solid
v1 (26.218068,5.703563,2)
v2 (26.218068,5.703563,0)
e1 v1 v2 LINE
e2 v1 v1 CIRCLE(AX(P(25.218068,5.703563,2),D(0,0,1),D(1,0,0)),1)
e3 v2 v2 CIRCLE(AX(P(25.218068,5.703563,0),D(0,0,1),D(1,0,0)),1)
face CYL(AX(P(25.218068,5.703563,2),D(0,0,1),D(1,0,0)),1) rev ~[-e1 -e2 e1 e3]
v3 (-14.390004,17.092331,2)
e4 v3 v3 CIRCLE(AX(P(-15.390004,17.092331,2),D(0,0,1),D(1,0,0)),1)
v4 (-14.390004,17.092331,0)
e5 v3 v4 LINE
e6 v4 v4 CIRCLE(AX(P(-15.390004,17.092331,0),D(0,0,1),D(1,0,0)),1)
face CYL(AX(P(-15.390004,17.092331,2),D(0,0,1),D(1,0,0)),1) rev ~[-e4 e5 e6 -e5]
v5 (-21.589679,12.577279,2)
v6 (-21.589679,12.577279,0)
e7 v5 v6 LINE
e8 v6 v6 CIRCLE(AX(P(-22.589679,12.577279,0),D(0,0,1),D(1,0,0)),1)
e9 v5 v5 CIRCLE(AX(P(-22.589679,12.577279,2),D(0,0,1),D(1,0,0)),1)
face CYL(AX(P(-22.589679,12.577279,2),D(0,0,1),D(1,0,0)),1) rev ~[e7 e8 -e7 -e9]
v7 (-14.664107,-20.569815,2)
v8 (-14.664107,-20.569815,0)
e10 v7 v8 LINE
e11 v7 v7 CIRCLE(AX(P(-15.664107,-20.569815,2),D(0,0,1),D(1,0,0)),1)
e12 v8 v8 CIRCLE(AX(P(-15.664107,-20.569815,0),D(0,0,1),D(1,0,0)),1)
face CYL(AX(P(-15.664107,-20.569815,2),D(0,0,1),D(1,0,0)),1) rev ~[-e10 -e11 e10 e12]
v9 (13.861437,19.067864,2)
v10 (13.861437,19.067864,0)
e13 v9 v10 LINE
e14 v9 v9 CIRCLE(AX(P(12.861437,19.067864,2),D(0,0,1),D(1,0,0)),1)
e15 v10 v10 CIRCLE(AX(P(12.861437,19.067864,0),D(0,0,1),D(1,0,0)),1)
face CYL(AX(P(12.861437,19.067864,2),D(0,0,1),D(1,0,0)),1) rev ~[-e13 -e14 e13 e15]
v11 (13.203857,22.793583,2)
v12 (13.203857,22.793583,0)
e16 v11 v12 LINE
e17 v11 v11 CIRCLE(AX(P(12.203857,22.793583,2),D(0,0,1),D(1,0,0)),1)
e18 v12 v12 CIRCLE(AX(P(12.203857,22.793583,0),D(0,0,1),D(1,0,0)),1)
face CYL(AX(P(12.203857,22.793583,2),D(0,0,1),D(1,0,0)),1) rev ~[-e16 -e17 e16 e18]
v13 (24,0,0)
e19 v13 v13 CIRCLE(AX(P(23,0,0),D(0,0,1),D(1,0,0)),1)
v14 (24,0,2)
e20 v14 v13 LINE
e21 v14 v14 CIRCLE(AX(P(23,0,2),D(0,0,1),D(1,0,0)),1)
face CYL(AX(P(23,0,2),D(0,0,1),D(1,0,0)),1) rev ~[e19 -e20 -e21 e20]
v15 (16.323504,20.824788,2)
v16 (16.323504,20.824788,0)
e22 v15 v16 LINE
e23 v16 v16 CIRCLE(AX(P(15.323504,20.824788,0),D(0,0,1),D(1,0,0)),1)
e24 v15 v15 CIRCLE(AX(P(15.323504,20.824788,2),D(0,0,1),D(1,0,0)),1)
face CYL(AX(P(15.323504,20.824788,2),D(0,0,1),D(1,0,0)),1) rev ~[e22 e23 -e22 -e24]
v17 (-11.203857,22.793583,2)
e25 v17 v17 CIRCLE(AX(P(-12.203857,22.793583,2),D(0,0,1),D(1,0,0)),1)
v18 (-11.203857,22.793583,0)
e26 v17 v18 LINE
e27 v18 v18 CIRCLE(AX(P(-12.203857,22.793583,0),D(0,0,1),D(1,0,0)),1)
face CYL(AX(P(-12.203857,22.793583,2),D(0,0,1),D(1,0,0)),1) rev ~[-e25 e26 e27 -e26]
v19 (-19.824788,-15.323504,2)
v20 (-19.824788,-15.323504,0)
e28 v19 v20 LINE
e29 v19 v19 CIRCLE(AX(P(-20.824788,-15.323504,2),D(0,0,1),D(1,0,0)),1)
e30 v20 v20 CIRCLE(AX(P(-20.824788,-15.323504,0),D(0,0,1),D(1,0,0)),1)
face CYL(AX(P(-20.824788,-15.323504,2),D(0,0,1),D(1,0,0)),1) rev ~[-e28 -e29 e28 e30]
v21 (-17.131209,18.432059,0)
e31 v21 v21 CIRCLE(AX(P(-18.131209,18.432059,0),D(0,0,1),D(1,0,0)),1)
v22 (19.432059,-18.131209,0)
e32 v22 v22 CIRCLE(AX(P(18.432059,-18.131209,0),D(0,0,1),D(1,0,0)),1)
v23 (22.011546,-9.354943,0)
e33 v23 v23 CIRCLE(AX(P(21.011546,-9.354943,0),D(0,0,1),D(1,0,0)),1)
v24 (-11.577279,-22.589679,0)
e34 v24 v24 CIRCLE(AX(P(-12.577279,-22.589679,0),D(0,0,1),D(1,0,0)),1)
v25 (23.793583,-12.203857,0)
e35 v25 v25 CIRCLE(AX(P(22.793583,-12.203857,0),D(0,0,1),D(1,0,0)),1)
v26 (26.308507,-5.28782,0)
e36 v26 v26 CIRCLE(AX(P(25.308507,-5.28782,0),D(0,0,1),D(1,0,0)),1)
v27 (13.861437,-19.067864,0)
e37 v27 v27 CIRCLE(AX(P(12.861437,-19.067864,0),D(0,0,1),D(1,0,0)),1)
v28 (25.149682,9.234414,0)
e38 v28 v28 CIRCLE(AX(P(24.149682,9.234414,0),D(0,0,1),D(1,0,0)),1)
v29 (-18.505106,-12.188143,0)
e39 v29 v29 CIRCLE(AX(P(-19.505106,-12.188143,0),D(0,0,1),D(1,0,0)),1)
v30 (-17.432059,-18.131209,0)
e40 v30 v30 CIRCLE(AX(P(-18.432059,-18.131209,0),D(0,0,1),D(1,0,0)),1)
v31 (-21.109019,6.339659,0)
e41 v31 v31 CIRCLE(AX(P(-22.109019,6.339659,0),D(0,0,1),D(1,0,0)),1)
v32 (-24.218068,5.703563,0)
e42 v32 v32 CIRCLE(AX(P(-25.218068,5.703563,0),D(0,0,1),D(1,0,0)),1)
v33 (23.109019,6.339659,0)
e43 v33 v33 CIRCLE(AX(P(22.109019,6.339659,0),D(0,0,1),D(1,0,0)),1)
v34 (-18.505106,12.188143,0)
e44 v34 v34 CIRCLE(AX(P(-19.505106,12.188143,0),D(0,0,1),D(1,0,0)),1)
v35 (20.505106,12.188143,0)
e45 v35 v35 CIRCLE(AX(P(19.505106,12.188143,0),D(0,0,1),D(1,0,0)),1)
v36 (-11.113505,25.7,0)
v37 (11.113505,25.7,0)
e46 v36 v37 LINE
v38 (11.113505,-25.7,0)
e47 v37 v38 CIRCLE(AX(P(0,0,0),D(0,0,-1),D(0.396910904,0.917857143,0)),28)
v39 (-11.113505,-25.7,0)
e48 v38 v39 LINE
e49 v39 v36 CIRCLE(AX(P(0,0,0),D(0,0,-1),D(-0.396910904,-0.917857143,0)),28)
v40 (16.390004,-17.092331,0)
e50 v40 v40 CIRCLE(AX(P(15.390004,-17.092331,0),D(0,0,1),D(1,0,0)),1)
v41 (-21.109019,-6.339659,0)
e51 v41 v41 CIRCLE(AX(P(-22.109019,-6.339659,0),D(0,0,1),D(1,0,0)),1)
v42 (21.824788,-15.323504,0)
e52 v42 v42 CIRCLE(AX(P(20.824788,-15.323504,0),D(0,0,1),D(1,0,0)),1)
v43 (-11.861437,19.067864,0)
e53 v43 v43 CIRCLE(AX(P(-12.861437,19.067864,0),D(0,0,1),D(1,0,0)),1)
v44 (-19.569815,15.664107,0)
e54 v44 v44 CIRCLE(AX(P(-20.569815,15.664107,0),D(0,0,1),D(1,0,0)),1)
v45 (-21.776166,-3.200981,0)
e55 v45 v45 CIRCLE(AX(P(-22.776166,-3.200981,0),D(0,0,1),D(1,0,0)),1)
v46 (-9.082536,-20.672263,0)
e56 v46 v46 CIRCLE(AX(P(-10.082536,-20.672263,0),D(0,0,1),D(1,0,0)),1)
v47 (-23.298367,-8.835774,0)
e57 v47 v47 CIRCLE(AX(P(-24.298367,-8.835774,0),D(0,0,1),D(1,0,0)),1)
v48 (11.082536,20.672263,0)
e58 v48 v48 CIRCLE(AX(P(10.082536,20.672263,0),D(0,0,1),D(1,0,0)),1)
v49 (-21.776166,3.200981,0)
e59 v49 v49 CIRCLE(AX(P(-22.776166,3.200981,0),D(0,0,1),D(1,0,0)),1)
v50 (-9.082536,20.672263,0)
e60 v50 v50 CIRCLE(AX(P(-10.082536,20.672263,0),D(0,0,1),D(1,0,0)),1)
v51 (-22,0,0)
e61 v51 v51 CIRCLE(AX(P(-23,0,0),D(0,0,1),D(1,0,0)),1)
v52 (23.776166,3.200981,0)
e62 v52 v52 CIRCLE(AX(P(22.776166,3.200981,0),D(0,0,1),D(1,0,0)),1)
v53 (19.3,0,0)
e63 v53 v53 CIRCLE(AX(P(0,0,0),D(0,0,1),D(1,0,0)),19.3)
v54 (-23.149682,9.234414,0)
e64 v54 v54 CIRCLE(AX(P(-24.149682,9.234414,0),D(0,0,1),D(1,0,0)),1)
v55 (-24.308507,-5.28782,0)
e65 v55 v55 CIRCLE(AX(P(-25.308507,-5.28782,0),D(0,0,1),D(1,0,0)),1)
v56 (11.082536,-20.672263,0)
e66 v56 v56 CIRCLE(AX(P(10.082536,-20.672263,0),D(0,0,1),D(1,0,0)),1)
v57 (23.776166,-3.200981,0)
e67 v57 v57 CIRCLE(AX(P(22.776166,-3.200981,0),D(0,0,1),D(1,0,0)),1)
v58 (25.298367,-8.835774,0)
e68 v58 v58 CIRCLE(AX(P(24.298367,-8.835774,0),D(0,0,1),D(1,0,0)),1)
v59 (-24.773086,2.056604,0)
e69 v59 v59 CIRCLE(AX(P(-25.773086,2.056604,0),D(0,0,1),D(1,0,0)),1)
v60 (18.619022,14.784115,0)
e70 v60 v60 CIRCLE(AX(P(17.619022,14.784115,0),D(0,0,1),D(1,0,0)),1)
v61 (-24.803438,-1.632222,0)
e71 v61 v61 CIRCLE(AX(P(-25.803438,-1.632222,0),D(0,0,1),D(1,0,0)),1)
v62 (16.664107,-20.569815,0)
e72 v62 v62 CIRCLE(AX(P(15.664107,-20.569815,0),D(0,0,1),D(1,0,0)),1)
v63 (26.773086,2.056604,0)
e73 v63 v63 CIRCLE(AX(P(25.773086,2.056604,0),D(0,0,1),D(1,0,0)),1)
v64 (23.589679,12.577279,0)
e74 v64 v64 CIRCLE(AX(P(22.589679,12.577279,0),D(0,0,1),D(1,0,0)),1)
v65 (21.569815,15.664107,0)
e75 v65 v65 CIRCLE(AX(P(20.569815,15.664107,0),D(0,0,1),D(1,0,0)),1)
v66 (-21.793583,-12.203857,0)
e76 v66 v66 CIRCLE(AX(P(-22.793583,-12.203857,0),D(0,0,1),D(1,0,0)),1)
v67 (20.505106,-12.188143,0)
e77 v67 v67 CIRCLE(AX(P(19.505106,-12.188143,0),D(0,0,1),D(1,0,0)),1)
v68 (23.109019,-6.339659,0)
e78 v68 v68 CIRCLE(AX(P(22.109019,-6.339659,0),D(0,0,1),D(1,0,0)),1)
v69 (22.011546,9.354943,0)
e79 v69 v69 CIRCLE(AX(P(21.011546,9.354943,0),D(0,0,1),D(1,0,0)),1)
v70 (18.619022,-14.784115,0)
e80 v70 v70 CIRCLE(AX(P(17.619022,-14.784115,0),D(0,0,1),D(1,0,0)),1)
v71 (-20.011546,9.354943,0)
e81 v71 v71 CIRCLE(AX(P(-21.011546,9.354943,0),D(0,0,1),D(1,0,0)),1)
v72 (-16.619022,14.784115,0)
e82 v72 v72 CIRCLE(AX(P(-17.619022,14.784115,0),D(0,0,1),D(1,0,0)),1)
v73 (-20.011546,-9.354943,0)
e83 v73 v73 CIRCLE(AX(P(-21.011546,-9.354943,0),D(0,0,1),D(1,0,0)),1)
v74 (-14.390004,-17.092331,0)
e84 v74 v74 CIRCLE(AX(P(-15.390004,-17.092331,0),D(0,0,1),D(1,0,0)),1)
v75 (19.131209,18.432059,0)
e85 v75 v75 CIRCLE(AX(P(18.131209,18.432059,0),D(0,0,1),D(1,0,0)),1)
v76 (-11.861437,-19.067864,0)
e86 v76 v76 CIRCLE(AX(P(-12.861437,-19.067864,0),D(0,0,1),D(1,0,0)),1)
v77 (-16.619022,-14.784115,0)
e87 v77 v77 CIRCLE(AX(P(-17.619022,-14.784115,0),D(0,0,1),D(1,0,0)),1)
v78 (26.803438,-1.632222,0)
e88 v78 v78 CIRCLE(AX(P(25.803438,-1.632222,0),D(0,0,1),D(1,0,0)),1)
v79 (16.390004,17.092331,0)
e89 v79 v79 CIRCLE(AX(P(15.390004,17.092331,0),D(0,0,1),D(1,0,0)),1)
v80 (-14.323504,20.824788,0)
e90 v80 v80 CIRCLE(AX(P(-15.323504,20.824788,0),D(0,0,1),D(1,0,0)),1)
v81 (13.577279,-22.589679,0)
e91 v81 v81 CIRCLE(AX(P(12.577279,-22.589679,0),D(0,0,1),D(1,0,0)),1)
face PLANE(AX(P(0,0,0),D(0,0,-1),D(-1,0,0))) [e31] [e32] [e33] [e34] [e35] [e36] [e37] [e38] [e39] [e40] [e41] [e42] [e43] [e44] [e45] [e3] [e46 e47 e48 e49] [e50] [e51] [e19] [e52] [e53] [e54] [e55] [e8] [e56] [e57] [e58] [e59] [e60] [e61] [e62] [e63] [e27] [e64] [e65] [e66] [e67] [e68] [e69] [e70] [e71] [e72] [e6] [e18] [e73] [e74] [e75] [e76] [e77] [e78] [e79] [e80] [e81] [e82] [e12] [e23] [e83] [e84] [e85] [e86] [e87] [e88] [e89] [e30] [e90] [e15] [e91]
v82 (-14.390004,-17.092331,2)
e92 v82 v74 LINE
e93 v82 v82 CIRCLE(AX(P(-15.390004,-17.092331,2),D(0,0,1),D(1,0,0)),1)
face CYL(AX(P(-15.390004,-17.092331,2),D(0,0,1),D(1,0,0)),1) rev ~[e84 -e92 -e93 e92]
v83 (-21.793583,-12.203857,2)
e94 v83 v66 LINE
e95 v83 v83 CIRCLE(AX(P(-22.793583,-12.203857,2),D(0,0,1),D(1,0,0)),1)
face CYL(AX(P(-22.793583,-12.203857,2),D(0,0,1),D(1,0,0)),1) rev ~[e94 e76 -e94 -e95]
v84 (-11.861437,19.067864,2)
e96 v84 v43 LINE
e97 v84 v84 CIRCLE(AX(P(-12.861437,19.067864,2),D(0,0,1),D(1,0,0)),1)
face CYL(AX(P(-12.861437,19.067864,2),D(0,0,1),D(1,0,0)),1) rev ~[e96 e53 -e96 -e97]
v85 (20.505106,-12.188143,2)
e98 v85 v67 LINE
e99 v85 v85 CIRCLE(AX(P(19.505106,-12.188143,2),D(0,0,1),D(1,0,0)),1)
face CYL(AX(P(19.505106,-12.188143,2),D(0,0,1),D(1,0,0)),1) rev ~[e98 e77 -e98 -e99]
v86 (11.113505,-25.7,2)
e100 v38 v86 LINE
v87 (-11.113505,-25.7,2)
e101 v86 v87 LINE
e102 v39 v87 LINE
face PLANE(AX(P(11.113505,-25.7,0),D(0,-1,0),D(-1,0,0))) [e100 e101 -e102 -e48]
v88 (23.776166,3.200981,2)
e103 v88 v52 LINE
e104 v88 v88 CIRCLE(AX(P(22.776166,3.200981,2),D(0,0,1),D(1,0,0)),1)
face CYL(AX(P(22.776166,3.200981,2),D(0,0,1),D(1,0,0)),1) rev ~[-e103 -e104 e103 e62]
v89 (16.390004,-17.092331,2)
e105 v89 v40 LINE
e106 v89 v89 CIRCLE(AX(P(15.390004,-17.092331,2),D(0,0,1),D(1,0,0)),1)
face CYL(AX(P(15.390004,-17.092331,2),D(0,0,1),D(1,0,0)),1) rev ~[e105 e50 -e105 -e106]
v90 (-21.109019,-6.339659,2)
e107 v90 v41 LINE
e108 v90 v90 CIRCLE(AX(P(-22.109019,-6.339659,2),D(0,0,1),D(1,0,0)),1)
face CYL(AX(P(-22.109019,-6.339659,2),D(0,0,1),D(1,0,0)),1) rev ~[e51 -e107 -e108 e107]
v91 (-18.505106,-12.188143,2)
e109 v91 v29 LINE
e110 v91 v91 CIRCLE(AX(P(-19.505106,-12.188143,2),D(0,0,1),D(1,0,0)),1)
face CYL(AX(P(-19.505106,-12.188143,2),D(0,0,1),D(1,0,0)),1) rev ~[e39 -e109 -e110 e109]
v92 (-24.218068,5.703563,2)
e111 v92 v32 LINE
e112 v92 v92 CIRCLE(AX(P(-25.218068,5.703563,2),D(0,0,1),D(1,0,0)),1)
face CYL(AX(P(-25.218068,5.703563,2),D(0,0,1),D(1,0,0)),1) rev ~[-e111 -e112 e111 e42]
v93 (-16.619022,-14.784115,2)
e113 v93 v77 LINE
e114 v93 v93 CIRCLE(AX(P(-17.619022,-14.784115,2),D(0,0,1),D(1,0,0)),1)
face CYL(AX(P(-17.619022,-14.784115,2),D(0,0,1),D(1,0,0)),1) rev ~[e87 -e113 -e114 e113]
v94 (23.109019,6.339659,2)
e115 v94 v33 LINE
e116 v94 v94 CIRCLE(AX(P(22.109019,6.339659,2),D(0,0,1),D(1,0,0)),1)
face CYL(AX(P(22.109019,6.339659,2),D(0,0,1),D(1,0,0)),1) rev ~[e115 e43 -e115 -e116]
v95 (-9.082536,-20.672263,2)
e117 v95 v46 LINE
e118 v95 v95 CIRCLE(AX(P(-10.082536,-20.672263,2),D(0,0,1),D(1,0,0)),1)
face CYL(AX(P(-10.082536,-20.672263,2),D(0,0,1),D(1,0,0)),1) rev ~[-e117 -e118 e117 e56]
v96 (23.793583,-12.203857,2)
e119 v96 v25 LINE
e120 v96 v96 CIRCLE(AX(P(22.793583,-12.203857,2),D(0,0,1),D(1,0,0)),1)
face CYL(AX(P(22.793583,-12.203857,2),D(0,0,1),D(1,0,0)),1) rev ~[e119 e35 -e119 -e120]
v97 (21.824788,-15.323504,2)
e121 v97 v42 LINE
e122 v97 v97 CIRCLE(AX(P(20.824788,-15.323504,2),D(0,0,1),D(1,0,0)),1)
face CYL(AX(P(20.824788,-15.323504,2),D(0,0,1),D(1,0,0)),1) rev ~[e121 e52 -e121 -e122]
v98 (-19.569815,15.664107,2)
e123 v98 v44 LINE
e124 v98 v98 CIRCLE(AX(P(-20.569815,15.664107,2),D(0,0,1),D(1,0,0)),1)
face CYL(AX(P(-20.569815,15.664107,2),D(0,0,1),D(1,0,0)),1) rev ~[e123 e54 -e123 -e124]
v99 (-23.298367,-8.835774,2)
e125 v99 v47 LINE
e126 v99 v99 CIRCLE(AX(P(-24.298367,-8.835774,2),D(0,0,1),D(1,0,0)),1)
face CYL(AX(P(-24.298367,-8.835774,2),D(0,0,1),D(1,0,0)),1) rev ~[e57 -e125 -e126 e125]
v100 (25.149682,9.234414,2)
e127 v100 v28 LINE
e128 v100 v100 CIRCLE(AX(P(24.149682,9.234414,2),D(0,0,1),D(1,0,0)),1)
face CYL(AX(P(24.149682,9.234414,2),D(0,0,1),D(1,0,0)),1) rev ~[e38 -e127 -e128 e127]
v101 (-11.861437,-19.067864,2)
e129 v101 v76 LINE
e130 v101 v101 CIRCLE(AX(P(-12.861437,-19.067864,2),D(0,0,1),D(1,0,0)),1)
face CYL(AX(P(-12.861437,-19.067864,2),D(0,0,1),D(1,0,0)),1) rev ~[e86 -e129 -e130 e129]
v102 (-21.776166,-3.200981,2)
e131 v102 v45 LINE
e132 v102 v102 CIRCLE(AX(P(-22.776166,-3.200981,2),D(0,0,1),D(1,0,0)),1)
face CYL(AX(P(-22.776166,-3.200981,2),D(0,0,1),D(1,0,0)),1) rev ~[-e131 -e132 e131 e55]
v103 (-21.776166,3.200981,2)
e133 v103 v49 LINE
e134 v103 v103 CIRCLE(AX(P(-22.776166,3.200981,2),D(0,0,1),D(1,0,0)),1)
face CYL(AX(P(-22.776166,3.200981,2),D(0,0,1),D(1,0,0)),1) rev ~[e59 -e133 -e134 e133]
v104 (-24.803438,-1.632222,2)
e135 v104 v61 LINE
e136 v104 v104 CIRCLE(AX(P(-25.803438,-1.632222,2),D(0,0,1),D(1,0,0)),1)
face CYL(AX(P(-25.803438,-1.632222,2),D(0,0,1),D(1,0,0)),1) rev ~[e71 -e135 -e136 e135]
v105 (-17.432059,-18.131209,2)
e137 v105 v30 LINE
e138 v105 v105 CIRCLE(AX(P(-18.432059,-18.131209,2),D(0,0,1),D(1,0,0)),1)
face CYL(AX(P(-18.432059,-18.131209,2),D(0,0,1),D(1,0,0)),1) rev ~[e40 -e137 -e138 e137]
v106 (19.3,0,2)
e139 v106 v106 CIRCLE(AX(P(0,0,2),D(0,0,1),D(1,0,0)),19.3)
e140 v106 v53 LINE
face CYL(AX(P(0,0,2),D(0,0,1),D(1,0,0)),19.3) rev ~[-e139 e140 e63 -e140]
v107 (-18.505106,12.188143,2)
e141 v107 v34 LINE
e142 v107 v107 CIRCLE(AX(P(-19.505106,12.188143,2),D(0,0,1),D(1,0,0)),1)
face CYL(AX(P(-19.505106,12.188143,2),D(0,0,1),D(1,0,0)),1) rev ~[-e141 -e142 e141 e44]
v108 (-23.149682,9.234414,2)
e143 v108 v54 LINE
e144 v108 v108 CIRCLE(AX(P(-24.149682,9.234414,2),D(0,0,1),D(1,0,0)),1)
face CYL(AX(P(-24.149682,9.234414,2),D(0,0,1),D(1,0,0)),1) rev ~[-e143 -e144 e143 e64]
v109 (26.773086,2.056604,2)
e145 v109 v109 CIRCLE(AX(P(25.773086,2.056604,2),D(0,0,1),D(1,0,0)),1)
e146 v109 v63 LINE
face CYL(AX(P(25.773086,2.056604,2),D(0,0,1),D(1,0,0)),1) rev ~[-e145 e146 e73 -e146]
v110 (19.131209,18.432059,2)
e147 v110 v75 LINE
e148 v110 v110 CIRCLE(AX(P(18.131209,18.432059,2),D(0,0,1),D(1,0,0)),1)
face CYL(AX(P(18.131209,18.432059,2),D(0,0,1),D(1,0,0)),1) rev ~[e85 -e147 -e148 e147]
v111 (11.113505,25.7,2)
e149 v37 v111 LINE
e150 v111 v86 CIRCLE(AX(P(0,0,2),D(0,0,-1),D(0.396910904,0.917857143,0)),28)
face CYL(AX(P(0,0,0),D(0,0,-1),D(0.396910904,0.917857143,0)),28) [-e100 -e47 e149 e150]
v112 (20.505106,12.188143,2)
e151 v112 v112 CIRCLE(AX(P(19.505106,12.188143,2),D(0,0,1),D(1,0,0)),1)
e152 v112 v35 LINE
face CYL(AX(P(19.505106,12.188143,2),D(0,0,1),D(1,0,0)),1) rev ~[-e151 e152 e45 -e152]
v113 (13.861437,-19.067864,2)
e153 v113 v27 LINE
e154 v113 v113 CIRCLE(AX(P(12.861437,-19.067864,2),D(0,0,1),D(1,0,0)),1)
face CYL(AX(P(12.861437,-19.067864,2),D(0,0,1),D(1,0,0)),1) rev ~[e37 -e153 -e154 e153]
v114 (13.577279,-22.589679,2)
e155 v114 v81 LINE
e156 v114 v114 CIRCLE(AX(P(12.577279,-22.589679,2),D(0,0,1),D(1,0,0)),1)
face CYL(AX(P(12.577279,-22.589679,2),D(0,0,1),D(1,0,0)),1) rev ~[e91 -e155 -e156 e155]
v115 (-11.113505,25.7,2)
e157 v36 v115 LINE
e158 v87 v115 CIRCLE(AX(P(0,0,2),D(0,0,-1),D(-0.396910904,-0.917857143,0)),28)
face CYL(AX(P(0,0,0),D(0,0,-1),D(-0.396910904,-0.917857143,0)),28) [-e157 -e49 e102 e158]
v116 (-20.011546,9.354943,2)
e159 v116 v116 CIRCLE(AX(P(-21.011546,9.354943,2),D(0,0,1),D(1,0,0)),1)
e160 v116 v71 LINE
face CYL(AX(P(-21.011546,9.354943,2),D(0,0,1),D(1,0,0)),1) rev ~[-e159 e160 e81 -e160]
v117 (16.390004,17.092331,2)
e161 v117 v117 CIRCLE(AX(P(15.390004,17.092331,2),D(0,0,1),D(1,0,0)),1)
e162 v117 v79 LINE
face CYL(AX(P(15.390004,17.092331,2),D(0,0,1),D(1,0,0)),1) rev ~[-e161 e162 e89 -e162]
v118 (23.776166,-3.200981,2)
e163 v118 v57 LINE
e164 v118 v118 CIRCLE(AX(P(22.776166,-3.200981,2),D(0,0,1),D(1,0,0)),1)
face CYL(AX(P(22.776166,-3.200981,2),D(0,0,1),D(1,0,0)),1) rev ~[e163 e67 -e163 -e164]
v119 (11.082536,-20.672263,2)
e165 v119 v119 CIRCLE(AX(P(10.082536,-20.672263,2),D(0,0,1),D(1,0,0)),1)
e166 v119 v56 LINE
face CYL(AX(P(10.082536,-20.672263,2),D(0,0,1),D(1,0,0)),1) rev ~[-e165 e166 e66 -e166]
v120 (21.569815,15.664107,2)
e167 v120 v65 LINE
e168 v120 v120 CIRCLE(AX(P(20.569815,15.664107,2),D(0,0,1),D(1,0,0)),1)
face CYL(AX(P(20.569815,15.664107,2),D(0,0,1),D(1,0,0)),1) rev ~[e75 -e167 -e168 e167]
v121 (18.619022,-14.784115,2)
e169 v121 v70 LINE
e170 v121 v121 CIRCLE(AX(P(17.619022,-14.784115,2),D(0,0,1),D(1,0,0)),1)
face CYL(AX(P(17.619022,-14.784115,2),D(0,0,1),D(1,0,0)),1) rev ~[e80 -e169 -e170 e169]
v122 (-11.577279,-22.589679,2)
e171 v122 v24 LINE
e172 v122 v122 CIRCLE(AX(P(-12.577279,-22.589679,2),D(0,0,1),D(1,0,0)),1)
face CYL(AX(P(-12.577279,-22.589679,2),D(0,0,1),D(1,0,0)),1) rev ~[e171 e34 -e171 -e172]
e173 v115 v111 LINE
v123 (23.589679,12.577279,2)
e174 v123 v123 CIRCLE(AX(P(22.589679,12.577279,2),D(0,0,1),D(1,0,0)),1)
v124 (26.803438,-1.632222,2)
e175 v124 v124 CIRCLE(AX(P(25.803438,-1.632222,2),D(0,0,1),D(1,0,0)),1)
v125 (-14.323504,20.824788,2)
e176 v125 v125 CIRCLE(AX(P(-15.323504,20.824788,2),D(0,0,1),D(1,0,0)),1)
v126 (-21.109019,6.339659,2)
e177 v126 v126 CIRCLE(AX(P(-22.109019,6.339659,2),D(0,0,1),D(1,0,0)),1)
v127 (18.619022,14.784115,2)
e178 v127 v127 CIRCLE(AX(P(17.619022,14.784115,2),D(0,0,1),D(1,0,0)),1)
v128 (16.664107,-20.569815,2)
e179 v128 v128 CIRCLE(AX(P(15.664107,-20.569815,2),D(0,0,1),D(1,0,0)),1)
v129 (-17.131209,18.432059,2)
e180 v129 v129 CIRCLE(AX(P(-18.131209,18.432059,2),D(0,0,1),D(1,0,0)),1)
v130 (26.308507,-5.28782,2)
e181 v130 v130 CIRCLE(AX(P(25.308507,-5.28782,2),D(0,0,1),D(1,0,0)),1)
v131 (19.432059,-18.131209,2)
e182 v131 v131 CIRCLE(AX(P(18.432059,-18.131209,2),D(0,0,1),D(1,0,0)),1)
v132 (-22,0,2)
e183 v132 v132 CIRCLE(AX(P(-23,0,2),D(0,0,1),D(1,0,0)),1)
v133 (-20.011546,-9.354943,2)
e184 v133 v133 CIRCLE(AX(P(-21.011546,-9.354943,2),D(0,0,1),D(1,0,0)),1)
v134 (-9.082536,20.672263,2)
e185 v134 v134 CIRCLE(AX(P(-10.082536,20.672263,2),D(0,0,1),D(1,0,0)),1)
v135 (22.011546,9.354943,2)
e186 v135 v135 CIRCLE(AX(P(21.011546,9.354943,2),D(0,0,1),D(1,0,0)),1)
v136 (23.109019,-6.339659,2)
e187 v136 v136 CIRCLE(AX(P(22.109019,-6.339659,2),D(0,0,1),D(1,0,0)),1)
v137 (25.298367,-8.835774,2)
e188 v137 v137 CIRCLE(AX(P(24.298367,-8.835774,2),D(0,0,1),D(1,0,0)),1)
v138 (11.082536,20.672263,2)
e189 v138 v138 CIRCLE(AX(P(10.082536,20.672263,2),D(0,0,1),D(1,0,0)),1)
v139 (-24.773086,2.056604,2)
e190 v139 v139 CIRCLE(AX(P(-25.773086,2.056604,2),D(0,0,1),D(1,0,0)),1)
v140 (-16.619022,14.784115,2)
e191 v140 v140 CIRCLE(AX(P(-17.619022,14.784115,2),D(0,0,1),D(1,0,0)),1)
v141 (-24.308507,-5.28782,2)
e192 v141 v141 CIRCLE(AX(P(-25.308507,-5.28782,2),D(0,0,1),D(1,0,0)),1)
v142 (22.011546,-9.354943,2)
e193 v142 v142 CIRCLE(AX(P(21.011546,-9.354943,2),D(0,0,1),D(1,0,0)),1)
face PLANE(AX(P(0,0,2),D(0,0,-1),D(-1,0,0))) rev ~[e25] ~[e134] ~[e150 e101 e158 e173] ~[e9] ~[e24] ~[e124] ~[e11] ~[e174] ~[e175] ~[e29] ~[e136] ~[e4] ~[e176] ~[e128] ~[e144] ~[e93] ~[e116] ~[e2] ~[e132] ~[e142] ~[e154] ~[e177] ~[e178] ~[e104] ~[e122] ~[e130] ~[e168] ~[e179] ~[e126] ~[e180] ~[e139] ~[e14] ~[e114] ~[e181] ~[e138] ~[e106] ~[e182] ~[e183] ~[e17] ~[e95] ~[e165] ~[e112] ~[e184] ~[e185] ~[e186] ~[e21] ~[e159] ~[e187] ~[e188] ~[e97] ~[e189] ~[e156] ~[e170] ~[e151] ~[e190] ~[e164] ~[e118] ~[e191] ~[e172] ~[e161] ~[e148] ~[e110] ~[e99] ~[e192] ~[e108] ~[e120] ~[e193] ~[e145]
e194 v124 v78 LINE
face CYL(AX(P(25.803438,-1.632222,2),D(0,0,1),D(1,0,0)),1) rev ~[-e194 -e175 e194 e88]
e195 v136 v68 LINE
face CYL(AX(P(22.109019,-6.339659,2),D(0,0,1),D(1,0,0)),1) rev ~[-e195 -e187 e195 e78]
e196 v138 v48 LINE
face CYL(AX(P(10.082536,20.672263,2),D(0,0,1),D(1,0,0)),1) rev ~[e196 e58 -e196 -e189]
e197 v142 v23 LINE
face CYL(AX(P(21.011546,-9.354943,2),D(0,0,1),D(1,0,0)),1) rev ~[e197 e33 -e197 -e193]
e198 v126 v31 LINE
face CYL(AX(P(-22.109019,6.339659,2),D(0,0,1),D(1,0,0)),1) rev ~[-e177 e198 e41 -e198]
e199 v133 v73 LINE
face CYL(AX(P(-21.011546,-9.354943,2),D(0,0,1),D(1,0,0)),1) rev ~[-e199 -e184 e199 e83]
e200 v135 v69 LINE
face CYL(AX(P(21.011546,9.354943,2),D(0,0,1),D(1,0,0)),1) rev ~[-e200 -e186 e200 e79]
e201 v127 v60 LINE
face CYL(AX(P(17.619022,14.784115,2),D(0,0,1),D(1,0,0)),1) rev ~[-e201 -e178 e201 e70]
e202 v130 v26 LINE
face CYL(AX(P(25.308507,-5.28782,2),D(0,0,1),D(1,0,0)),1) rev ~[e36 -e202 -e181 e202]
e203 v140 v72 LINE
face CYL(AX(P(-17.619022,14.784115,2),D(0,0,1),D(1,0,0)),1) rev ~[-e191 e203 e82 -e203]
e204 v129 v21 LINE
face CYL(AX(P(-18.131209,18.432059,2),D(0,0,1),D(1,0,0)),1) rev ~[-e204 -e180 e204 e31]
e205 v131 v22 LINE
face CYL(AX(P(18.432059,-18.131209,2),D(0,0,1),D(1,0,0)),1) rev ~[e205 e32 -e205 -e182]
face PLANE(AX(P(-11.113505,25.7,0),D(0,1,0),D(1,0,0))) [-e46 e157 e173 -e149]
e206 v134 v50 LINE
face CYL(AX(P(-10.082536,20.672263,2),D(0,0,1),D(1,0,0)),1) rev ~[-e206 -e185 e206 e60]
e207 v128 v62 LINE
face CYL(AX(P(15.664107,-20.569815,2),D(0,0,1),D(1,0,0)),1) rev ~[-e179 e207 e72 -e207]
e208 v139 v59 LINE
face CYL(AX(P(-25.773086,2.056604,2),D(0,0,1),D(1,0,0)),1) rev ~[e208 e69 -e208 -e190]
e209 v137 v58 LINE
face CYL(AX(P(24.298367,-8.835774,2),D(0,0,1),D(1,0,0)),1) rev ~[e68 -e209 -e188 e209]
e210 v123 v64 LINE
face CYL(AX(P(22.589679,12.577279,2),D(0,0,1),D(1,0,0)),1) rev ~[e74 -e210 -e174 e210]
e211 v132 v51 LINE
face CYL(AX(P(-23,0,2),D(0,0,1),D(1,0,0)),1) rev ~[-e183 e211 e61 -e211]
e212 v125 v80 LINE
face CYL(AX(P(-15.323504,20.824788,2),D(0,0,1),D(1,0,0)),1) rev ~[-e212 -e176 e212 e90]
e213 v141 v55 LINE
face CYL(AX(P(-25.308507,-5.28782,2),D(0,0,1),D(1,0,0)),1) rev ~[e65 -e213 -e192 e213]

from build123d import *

# Parameters (mm, degrees)
Y_KSEKLIK_EKSTR_ZYON1_DEPTH = 2
IZIM2_R                     = 19.3
KES_EKSTR_ZYON1_DEPTH       = 3
IZIM3_R                     = 1
KES_EKSTR_ZYON2_DEPTH       = 3
IZIM4_R                     = 1
KES_EKSTR_ZYON3_DEPTH       = 3


with BuildPart() as part:
    # Çizim1 → Yükseklik-Ekstrüzyon1 (new body)
    with BuildSketch(Plane.XY):
        with BuildLine():
            Line((-11.113505298, 25.7), (11.113505298, 25.7))
            ThreePointArc((11.113505298, 25.7), (28, 0), (11.113505298, -25.7))
            Line((11.113505298, -25.7), (-11.113505298, -25.7))
            ThreePointArc((-11.113505298, -25.7), (-28, 0), (-11.113505298, 25.7))
        make_face()
    extrude(amount=Y_KSEKLIK_EKSTR_ZYON1_DEPTH)

    # Çizim2 → Kes-Ekstrüzyon1 (cut)
    with BuildSketch(Plane.XY.offset(2)):
        Circle(IZIM2_R)
    extrude(amount=-KES_EKSTR_ZYON1_DEPTH, mode=Mode.SUBTRACT)

    # Çizim3 → Kes-Ekstrüzyon2 (cut)
    with BuildSketch(Plane.XY.offset(2)):
        with Locations((-23, 0)):
            Circle(IZIM3_R)
        with Locations((-22.776165581, 3.200981322)):
            Circle(IZIM3_R)
        with Locations((-22.109019007, 6.339659184)):
            Circle(IZIM3_R)
        with Locations((-21.011545526, 9.354942791)):
            Circle(IZIM3_R)
        with Locations((-19.505106212, 12.188143077)):
            Circle(IZIM3_R)
        with Locations((-17.619022192, 14.784115023)):
            Circle(IZIM3_R)
        with Locations((-15.390003946, 17.092330986)):
            Circle(IZIM3_R)
        with Locations((-12.86143678, 19.067864169)):
            Circle(IZIM3_R)
        with Locations((-10.082536376, 20.672263065)):
            Circle(IZIM3_R)
        with Locations((-10.082536376, -20.672263065)):
            Circle(IZIM3_R)
        with Locations((-12.86143678, -19.067864169)):
            Circle(IZIM3_R)
        with Locations((-15.390003946, -17.092330986)):
            Circle(IZIM3_R)
        with Locations((-17.619022192, -14.784115023)):
            Circle(IZIM3_R)
        with Locations((-19.505106212, -12.188143077)):
            Circle(IZIM3_R)
        with Locations((-21.011545526, -9.354942791)):
            Circle(IZIM3_R)
        with Locations((-22.109019007, -6.339659184)):
            Circle(IZIM3_R)
        with Locations((-22.776165581, -3.200981322)):
            Circle(IZIM3_R)
        with Locations((10.082536376, -20.672263065)):
            Circle(IZIM3_R)
        with Locations((12.86143678, -19.067864169)):
            Circle(IZIM3_R)
        with Locations((15.390003946, -17.092330986)):
            Circle(IZIM3_R)
        with Locations((17.619022192, -14.784115023)):
            Circle(IZIM3_R)
        with Locations((19.505106212, -12.188143077)):
            Circle(IZIM3_R)
        with Locations((21.011545526, -9.354942791)):
            Circle(IZIM3_R)
        with Locations((22.109019007, -6.339659184)):
            Circle(IZIM3_R)
        with Locations((22.776165581, -3.200981322)):
            Circle(IZIM3_R)
        with Locations((23, 0)):
            Circle(IZIM3_R)
        with Locations((22.776165581, 3.200981322)):
            Circle(IZIM3_R)
        with Locations((22.109019007, 6.339659184)):
            Circle(IZIM3_R)
        with Locations((21.011545526, 9.354942791)):
            Circle(IZIM3_R)
        with Locations((19.505106212, 12.188143077)):
            Circle(IZIM3_R)
        with Locations((17.619022192, 14.784115023)):
            Circle(IZIM3_R)
        with Locations((15.390003946, 17.092330986)):
            Circle(IZIM3_R)
        with Locations((12.86143678, 19.067864169)):
            Circle(IZIM3_R)
        with Locations((10.082536376, 20.672263065)):
            Circle(IZIM3_R)
    extrude(amount=-KES_EKSTR_ZYON2_DEPTH, mode=Mode.SUBTRACT)

    # Çizim4 → Kes-Ekstrüzyon3 (cut)
    with BuildSketch(Plane.XY.offset(2)):
        with Locations((-12.20385672, 22.793583408)):
            Circle(IZIM4_R)
        with Locations((-12.577279495, -22.589679146)):
            Circle(IZIM4_R)
        with Locations((-15.664107459, -20.569815287)):
            Circle(IZIM4_R)
        with Locations((-18.432059367, -18.131209307)):
            Circle(IZIM4_R)
        with Locations((-20.8247877, -15.323504191)):
            Circle(IZIM4_R)
        with Locations((-22.793583408, -12.20385672)):
            Circle(IZIM4_R)
        with Locations((-24.29836749, -8.835773918)):
            Circle(IZIM4_R)
        with Locations((-25.308506881, -5.28782024)):
            Circle(IZIM4_R)
        with Locations((-25.803438055, -1.632221791)):
            Circle(IZIM4_R)
        with Locations((-25.773085641, 2.056603987)):
            Circle(IZIM4_R)
        with Locations((-25.218067527, 5.703563239)):
            Circle(IZIM4_R)
        with Locations((-24.149682281, 9.234414391)):
            Circle(IZIM4_R)
        with Locations((-22.589679146, 12.577279495)):
            Circle(IZIM4_R)
        with Locations((-20.569815287, 15.664107459)):
            Circle(IZIM4_R)
        with Locations((-18.131209307, 18.432059367)):
            Circle(IZIM4_R)
        with Locations((-15.323504191, 20.8247877)):
            Circle(IZIM4_R)
        with Locations((12.577279495, -22.589679146)):
            Circle(IZIM4_R)
        with Locations((15.664107459, -20.569815287)):
            Circle(IZIM4_R)
        with Locations((18.432059367, -18.131209307)):
            Circle(IZIM4_R)
        with Locations((20.8247877, -15.323504191)):
            Circle(IZIM4_R)
        with Locations((22.793583408, -12.20385672)):
            Circle(IZIM4_R)
        with Locations((24.29836749, -8.835773918)):
            Circle(IZIM4_R)
        with Locations((25.308506881, -5.28782024)):
            Circle(IZIM4_R)
        with Locations((25.803438055, -1.632221791)):
            Circle(IZIM4_R)
        with Locations((25.773085641, 2.056603987)):
            Circle(IZIM4_R)
        with Locations((25.218067527, 5.703563239)):
            Circle(IZIM4_R)
        with Locations((24.149682281, 9.234414391)):
            Circle(IZIM4_R)
        with Locations((22.589679146, 12.577279495)):
            Circle(IZIM4_R)
        with Locations((20.569815287, 15.664107459)):
            Circle(IZIM4_R)
        with Locations((18.131209307, 18.432059367)):
            Circle(IZIM4_R)
        with Locations((15.323504191, 20.8247877)):
            Circle(IZIM4_R)
        with Locations((12.20385672, 22.793583408)):
            Circle(IZIM4_R)
    extrude(amount=-KES_EKSTR_ZYON3_DEPTH, mode=Mode.SUBTRACT)


solid = part.part
